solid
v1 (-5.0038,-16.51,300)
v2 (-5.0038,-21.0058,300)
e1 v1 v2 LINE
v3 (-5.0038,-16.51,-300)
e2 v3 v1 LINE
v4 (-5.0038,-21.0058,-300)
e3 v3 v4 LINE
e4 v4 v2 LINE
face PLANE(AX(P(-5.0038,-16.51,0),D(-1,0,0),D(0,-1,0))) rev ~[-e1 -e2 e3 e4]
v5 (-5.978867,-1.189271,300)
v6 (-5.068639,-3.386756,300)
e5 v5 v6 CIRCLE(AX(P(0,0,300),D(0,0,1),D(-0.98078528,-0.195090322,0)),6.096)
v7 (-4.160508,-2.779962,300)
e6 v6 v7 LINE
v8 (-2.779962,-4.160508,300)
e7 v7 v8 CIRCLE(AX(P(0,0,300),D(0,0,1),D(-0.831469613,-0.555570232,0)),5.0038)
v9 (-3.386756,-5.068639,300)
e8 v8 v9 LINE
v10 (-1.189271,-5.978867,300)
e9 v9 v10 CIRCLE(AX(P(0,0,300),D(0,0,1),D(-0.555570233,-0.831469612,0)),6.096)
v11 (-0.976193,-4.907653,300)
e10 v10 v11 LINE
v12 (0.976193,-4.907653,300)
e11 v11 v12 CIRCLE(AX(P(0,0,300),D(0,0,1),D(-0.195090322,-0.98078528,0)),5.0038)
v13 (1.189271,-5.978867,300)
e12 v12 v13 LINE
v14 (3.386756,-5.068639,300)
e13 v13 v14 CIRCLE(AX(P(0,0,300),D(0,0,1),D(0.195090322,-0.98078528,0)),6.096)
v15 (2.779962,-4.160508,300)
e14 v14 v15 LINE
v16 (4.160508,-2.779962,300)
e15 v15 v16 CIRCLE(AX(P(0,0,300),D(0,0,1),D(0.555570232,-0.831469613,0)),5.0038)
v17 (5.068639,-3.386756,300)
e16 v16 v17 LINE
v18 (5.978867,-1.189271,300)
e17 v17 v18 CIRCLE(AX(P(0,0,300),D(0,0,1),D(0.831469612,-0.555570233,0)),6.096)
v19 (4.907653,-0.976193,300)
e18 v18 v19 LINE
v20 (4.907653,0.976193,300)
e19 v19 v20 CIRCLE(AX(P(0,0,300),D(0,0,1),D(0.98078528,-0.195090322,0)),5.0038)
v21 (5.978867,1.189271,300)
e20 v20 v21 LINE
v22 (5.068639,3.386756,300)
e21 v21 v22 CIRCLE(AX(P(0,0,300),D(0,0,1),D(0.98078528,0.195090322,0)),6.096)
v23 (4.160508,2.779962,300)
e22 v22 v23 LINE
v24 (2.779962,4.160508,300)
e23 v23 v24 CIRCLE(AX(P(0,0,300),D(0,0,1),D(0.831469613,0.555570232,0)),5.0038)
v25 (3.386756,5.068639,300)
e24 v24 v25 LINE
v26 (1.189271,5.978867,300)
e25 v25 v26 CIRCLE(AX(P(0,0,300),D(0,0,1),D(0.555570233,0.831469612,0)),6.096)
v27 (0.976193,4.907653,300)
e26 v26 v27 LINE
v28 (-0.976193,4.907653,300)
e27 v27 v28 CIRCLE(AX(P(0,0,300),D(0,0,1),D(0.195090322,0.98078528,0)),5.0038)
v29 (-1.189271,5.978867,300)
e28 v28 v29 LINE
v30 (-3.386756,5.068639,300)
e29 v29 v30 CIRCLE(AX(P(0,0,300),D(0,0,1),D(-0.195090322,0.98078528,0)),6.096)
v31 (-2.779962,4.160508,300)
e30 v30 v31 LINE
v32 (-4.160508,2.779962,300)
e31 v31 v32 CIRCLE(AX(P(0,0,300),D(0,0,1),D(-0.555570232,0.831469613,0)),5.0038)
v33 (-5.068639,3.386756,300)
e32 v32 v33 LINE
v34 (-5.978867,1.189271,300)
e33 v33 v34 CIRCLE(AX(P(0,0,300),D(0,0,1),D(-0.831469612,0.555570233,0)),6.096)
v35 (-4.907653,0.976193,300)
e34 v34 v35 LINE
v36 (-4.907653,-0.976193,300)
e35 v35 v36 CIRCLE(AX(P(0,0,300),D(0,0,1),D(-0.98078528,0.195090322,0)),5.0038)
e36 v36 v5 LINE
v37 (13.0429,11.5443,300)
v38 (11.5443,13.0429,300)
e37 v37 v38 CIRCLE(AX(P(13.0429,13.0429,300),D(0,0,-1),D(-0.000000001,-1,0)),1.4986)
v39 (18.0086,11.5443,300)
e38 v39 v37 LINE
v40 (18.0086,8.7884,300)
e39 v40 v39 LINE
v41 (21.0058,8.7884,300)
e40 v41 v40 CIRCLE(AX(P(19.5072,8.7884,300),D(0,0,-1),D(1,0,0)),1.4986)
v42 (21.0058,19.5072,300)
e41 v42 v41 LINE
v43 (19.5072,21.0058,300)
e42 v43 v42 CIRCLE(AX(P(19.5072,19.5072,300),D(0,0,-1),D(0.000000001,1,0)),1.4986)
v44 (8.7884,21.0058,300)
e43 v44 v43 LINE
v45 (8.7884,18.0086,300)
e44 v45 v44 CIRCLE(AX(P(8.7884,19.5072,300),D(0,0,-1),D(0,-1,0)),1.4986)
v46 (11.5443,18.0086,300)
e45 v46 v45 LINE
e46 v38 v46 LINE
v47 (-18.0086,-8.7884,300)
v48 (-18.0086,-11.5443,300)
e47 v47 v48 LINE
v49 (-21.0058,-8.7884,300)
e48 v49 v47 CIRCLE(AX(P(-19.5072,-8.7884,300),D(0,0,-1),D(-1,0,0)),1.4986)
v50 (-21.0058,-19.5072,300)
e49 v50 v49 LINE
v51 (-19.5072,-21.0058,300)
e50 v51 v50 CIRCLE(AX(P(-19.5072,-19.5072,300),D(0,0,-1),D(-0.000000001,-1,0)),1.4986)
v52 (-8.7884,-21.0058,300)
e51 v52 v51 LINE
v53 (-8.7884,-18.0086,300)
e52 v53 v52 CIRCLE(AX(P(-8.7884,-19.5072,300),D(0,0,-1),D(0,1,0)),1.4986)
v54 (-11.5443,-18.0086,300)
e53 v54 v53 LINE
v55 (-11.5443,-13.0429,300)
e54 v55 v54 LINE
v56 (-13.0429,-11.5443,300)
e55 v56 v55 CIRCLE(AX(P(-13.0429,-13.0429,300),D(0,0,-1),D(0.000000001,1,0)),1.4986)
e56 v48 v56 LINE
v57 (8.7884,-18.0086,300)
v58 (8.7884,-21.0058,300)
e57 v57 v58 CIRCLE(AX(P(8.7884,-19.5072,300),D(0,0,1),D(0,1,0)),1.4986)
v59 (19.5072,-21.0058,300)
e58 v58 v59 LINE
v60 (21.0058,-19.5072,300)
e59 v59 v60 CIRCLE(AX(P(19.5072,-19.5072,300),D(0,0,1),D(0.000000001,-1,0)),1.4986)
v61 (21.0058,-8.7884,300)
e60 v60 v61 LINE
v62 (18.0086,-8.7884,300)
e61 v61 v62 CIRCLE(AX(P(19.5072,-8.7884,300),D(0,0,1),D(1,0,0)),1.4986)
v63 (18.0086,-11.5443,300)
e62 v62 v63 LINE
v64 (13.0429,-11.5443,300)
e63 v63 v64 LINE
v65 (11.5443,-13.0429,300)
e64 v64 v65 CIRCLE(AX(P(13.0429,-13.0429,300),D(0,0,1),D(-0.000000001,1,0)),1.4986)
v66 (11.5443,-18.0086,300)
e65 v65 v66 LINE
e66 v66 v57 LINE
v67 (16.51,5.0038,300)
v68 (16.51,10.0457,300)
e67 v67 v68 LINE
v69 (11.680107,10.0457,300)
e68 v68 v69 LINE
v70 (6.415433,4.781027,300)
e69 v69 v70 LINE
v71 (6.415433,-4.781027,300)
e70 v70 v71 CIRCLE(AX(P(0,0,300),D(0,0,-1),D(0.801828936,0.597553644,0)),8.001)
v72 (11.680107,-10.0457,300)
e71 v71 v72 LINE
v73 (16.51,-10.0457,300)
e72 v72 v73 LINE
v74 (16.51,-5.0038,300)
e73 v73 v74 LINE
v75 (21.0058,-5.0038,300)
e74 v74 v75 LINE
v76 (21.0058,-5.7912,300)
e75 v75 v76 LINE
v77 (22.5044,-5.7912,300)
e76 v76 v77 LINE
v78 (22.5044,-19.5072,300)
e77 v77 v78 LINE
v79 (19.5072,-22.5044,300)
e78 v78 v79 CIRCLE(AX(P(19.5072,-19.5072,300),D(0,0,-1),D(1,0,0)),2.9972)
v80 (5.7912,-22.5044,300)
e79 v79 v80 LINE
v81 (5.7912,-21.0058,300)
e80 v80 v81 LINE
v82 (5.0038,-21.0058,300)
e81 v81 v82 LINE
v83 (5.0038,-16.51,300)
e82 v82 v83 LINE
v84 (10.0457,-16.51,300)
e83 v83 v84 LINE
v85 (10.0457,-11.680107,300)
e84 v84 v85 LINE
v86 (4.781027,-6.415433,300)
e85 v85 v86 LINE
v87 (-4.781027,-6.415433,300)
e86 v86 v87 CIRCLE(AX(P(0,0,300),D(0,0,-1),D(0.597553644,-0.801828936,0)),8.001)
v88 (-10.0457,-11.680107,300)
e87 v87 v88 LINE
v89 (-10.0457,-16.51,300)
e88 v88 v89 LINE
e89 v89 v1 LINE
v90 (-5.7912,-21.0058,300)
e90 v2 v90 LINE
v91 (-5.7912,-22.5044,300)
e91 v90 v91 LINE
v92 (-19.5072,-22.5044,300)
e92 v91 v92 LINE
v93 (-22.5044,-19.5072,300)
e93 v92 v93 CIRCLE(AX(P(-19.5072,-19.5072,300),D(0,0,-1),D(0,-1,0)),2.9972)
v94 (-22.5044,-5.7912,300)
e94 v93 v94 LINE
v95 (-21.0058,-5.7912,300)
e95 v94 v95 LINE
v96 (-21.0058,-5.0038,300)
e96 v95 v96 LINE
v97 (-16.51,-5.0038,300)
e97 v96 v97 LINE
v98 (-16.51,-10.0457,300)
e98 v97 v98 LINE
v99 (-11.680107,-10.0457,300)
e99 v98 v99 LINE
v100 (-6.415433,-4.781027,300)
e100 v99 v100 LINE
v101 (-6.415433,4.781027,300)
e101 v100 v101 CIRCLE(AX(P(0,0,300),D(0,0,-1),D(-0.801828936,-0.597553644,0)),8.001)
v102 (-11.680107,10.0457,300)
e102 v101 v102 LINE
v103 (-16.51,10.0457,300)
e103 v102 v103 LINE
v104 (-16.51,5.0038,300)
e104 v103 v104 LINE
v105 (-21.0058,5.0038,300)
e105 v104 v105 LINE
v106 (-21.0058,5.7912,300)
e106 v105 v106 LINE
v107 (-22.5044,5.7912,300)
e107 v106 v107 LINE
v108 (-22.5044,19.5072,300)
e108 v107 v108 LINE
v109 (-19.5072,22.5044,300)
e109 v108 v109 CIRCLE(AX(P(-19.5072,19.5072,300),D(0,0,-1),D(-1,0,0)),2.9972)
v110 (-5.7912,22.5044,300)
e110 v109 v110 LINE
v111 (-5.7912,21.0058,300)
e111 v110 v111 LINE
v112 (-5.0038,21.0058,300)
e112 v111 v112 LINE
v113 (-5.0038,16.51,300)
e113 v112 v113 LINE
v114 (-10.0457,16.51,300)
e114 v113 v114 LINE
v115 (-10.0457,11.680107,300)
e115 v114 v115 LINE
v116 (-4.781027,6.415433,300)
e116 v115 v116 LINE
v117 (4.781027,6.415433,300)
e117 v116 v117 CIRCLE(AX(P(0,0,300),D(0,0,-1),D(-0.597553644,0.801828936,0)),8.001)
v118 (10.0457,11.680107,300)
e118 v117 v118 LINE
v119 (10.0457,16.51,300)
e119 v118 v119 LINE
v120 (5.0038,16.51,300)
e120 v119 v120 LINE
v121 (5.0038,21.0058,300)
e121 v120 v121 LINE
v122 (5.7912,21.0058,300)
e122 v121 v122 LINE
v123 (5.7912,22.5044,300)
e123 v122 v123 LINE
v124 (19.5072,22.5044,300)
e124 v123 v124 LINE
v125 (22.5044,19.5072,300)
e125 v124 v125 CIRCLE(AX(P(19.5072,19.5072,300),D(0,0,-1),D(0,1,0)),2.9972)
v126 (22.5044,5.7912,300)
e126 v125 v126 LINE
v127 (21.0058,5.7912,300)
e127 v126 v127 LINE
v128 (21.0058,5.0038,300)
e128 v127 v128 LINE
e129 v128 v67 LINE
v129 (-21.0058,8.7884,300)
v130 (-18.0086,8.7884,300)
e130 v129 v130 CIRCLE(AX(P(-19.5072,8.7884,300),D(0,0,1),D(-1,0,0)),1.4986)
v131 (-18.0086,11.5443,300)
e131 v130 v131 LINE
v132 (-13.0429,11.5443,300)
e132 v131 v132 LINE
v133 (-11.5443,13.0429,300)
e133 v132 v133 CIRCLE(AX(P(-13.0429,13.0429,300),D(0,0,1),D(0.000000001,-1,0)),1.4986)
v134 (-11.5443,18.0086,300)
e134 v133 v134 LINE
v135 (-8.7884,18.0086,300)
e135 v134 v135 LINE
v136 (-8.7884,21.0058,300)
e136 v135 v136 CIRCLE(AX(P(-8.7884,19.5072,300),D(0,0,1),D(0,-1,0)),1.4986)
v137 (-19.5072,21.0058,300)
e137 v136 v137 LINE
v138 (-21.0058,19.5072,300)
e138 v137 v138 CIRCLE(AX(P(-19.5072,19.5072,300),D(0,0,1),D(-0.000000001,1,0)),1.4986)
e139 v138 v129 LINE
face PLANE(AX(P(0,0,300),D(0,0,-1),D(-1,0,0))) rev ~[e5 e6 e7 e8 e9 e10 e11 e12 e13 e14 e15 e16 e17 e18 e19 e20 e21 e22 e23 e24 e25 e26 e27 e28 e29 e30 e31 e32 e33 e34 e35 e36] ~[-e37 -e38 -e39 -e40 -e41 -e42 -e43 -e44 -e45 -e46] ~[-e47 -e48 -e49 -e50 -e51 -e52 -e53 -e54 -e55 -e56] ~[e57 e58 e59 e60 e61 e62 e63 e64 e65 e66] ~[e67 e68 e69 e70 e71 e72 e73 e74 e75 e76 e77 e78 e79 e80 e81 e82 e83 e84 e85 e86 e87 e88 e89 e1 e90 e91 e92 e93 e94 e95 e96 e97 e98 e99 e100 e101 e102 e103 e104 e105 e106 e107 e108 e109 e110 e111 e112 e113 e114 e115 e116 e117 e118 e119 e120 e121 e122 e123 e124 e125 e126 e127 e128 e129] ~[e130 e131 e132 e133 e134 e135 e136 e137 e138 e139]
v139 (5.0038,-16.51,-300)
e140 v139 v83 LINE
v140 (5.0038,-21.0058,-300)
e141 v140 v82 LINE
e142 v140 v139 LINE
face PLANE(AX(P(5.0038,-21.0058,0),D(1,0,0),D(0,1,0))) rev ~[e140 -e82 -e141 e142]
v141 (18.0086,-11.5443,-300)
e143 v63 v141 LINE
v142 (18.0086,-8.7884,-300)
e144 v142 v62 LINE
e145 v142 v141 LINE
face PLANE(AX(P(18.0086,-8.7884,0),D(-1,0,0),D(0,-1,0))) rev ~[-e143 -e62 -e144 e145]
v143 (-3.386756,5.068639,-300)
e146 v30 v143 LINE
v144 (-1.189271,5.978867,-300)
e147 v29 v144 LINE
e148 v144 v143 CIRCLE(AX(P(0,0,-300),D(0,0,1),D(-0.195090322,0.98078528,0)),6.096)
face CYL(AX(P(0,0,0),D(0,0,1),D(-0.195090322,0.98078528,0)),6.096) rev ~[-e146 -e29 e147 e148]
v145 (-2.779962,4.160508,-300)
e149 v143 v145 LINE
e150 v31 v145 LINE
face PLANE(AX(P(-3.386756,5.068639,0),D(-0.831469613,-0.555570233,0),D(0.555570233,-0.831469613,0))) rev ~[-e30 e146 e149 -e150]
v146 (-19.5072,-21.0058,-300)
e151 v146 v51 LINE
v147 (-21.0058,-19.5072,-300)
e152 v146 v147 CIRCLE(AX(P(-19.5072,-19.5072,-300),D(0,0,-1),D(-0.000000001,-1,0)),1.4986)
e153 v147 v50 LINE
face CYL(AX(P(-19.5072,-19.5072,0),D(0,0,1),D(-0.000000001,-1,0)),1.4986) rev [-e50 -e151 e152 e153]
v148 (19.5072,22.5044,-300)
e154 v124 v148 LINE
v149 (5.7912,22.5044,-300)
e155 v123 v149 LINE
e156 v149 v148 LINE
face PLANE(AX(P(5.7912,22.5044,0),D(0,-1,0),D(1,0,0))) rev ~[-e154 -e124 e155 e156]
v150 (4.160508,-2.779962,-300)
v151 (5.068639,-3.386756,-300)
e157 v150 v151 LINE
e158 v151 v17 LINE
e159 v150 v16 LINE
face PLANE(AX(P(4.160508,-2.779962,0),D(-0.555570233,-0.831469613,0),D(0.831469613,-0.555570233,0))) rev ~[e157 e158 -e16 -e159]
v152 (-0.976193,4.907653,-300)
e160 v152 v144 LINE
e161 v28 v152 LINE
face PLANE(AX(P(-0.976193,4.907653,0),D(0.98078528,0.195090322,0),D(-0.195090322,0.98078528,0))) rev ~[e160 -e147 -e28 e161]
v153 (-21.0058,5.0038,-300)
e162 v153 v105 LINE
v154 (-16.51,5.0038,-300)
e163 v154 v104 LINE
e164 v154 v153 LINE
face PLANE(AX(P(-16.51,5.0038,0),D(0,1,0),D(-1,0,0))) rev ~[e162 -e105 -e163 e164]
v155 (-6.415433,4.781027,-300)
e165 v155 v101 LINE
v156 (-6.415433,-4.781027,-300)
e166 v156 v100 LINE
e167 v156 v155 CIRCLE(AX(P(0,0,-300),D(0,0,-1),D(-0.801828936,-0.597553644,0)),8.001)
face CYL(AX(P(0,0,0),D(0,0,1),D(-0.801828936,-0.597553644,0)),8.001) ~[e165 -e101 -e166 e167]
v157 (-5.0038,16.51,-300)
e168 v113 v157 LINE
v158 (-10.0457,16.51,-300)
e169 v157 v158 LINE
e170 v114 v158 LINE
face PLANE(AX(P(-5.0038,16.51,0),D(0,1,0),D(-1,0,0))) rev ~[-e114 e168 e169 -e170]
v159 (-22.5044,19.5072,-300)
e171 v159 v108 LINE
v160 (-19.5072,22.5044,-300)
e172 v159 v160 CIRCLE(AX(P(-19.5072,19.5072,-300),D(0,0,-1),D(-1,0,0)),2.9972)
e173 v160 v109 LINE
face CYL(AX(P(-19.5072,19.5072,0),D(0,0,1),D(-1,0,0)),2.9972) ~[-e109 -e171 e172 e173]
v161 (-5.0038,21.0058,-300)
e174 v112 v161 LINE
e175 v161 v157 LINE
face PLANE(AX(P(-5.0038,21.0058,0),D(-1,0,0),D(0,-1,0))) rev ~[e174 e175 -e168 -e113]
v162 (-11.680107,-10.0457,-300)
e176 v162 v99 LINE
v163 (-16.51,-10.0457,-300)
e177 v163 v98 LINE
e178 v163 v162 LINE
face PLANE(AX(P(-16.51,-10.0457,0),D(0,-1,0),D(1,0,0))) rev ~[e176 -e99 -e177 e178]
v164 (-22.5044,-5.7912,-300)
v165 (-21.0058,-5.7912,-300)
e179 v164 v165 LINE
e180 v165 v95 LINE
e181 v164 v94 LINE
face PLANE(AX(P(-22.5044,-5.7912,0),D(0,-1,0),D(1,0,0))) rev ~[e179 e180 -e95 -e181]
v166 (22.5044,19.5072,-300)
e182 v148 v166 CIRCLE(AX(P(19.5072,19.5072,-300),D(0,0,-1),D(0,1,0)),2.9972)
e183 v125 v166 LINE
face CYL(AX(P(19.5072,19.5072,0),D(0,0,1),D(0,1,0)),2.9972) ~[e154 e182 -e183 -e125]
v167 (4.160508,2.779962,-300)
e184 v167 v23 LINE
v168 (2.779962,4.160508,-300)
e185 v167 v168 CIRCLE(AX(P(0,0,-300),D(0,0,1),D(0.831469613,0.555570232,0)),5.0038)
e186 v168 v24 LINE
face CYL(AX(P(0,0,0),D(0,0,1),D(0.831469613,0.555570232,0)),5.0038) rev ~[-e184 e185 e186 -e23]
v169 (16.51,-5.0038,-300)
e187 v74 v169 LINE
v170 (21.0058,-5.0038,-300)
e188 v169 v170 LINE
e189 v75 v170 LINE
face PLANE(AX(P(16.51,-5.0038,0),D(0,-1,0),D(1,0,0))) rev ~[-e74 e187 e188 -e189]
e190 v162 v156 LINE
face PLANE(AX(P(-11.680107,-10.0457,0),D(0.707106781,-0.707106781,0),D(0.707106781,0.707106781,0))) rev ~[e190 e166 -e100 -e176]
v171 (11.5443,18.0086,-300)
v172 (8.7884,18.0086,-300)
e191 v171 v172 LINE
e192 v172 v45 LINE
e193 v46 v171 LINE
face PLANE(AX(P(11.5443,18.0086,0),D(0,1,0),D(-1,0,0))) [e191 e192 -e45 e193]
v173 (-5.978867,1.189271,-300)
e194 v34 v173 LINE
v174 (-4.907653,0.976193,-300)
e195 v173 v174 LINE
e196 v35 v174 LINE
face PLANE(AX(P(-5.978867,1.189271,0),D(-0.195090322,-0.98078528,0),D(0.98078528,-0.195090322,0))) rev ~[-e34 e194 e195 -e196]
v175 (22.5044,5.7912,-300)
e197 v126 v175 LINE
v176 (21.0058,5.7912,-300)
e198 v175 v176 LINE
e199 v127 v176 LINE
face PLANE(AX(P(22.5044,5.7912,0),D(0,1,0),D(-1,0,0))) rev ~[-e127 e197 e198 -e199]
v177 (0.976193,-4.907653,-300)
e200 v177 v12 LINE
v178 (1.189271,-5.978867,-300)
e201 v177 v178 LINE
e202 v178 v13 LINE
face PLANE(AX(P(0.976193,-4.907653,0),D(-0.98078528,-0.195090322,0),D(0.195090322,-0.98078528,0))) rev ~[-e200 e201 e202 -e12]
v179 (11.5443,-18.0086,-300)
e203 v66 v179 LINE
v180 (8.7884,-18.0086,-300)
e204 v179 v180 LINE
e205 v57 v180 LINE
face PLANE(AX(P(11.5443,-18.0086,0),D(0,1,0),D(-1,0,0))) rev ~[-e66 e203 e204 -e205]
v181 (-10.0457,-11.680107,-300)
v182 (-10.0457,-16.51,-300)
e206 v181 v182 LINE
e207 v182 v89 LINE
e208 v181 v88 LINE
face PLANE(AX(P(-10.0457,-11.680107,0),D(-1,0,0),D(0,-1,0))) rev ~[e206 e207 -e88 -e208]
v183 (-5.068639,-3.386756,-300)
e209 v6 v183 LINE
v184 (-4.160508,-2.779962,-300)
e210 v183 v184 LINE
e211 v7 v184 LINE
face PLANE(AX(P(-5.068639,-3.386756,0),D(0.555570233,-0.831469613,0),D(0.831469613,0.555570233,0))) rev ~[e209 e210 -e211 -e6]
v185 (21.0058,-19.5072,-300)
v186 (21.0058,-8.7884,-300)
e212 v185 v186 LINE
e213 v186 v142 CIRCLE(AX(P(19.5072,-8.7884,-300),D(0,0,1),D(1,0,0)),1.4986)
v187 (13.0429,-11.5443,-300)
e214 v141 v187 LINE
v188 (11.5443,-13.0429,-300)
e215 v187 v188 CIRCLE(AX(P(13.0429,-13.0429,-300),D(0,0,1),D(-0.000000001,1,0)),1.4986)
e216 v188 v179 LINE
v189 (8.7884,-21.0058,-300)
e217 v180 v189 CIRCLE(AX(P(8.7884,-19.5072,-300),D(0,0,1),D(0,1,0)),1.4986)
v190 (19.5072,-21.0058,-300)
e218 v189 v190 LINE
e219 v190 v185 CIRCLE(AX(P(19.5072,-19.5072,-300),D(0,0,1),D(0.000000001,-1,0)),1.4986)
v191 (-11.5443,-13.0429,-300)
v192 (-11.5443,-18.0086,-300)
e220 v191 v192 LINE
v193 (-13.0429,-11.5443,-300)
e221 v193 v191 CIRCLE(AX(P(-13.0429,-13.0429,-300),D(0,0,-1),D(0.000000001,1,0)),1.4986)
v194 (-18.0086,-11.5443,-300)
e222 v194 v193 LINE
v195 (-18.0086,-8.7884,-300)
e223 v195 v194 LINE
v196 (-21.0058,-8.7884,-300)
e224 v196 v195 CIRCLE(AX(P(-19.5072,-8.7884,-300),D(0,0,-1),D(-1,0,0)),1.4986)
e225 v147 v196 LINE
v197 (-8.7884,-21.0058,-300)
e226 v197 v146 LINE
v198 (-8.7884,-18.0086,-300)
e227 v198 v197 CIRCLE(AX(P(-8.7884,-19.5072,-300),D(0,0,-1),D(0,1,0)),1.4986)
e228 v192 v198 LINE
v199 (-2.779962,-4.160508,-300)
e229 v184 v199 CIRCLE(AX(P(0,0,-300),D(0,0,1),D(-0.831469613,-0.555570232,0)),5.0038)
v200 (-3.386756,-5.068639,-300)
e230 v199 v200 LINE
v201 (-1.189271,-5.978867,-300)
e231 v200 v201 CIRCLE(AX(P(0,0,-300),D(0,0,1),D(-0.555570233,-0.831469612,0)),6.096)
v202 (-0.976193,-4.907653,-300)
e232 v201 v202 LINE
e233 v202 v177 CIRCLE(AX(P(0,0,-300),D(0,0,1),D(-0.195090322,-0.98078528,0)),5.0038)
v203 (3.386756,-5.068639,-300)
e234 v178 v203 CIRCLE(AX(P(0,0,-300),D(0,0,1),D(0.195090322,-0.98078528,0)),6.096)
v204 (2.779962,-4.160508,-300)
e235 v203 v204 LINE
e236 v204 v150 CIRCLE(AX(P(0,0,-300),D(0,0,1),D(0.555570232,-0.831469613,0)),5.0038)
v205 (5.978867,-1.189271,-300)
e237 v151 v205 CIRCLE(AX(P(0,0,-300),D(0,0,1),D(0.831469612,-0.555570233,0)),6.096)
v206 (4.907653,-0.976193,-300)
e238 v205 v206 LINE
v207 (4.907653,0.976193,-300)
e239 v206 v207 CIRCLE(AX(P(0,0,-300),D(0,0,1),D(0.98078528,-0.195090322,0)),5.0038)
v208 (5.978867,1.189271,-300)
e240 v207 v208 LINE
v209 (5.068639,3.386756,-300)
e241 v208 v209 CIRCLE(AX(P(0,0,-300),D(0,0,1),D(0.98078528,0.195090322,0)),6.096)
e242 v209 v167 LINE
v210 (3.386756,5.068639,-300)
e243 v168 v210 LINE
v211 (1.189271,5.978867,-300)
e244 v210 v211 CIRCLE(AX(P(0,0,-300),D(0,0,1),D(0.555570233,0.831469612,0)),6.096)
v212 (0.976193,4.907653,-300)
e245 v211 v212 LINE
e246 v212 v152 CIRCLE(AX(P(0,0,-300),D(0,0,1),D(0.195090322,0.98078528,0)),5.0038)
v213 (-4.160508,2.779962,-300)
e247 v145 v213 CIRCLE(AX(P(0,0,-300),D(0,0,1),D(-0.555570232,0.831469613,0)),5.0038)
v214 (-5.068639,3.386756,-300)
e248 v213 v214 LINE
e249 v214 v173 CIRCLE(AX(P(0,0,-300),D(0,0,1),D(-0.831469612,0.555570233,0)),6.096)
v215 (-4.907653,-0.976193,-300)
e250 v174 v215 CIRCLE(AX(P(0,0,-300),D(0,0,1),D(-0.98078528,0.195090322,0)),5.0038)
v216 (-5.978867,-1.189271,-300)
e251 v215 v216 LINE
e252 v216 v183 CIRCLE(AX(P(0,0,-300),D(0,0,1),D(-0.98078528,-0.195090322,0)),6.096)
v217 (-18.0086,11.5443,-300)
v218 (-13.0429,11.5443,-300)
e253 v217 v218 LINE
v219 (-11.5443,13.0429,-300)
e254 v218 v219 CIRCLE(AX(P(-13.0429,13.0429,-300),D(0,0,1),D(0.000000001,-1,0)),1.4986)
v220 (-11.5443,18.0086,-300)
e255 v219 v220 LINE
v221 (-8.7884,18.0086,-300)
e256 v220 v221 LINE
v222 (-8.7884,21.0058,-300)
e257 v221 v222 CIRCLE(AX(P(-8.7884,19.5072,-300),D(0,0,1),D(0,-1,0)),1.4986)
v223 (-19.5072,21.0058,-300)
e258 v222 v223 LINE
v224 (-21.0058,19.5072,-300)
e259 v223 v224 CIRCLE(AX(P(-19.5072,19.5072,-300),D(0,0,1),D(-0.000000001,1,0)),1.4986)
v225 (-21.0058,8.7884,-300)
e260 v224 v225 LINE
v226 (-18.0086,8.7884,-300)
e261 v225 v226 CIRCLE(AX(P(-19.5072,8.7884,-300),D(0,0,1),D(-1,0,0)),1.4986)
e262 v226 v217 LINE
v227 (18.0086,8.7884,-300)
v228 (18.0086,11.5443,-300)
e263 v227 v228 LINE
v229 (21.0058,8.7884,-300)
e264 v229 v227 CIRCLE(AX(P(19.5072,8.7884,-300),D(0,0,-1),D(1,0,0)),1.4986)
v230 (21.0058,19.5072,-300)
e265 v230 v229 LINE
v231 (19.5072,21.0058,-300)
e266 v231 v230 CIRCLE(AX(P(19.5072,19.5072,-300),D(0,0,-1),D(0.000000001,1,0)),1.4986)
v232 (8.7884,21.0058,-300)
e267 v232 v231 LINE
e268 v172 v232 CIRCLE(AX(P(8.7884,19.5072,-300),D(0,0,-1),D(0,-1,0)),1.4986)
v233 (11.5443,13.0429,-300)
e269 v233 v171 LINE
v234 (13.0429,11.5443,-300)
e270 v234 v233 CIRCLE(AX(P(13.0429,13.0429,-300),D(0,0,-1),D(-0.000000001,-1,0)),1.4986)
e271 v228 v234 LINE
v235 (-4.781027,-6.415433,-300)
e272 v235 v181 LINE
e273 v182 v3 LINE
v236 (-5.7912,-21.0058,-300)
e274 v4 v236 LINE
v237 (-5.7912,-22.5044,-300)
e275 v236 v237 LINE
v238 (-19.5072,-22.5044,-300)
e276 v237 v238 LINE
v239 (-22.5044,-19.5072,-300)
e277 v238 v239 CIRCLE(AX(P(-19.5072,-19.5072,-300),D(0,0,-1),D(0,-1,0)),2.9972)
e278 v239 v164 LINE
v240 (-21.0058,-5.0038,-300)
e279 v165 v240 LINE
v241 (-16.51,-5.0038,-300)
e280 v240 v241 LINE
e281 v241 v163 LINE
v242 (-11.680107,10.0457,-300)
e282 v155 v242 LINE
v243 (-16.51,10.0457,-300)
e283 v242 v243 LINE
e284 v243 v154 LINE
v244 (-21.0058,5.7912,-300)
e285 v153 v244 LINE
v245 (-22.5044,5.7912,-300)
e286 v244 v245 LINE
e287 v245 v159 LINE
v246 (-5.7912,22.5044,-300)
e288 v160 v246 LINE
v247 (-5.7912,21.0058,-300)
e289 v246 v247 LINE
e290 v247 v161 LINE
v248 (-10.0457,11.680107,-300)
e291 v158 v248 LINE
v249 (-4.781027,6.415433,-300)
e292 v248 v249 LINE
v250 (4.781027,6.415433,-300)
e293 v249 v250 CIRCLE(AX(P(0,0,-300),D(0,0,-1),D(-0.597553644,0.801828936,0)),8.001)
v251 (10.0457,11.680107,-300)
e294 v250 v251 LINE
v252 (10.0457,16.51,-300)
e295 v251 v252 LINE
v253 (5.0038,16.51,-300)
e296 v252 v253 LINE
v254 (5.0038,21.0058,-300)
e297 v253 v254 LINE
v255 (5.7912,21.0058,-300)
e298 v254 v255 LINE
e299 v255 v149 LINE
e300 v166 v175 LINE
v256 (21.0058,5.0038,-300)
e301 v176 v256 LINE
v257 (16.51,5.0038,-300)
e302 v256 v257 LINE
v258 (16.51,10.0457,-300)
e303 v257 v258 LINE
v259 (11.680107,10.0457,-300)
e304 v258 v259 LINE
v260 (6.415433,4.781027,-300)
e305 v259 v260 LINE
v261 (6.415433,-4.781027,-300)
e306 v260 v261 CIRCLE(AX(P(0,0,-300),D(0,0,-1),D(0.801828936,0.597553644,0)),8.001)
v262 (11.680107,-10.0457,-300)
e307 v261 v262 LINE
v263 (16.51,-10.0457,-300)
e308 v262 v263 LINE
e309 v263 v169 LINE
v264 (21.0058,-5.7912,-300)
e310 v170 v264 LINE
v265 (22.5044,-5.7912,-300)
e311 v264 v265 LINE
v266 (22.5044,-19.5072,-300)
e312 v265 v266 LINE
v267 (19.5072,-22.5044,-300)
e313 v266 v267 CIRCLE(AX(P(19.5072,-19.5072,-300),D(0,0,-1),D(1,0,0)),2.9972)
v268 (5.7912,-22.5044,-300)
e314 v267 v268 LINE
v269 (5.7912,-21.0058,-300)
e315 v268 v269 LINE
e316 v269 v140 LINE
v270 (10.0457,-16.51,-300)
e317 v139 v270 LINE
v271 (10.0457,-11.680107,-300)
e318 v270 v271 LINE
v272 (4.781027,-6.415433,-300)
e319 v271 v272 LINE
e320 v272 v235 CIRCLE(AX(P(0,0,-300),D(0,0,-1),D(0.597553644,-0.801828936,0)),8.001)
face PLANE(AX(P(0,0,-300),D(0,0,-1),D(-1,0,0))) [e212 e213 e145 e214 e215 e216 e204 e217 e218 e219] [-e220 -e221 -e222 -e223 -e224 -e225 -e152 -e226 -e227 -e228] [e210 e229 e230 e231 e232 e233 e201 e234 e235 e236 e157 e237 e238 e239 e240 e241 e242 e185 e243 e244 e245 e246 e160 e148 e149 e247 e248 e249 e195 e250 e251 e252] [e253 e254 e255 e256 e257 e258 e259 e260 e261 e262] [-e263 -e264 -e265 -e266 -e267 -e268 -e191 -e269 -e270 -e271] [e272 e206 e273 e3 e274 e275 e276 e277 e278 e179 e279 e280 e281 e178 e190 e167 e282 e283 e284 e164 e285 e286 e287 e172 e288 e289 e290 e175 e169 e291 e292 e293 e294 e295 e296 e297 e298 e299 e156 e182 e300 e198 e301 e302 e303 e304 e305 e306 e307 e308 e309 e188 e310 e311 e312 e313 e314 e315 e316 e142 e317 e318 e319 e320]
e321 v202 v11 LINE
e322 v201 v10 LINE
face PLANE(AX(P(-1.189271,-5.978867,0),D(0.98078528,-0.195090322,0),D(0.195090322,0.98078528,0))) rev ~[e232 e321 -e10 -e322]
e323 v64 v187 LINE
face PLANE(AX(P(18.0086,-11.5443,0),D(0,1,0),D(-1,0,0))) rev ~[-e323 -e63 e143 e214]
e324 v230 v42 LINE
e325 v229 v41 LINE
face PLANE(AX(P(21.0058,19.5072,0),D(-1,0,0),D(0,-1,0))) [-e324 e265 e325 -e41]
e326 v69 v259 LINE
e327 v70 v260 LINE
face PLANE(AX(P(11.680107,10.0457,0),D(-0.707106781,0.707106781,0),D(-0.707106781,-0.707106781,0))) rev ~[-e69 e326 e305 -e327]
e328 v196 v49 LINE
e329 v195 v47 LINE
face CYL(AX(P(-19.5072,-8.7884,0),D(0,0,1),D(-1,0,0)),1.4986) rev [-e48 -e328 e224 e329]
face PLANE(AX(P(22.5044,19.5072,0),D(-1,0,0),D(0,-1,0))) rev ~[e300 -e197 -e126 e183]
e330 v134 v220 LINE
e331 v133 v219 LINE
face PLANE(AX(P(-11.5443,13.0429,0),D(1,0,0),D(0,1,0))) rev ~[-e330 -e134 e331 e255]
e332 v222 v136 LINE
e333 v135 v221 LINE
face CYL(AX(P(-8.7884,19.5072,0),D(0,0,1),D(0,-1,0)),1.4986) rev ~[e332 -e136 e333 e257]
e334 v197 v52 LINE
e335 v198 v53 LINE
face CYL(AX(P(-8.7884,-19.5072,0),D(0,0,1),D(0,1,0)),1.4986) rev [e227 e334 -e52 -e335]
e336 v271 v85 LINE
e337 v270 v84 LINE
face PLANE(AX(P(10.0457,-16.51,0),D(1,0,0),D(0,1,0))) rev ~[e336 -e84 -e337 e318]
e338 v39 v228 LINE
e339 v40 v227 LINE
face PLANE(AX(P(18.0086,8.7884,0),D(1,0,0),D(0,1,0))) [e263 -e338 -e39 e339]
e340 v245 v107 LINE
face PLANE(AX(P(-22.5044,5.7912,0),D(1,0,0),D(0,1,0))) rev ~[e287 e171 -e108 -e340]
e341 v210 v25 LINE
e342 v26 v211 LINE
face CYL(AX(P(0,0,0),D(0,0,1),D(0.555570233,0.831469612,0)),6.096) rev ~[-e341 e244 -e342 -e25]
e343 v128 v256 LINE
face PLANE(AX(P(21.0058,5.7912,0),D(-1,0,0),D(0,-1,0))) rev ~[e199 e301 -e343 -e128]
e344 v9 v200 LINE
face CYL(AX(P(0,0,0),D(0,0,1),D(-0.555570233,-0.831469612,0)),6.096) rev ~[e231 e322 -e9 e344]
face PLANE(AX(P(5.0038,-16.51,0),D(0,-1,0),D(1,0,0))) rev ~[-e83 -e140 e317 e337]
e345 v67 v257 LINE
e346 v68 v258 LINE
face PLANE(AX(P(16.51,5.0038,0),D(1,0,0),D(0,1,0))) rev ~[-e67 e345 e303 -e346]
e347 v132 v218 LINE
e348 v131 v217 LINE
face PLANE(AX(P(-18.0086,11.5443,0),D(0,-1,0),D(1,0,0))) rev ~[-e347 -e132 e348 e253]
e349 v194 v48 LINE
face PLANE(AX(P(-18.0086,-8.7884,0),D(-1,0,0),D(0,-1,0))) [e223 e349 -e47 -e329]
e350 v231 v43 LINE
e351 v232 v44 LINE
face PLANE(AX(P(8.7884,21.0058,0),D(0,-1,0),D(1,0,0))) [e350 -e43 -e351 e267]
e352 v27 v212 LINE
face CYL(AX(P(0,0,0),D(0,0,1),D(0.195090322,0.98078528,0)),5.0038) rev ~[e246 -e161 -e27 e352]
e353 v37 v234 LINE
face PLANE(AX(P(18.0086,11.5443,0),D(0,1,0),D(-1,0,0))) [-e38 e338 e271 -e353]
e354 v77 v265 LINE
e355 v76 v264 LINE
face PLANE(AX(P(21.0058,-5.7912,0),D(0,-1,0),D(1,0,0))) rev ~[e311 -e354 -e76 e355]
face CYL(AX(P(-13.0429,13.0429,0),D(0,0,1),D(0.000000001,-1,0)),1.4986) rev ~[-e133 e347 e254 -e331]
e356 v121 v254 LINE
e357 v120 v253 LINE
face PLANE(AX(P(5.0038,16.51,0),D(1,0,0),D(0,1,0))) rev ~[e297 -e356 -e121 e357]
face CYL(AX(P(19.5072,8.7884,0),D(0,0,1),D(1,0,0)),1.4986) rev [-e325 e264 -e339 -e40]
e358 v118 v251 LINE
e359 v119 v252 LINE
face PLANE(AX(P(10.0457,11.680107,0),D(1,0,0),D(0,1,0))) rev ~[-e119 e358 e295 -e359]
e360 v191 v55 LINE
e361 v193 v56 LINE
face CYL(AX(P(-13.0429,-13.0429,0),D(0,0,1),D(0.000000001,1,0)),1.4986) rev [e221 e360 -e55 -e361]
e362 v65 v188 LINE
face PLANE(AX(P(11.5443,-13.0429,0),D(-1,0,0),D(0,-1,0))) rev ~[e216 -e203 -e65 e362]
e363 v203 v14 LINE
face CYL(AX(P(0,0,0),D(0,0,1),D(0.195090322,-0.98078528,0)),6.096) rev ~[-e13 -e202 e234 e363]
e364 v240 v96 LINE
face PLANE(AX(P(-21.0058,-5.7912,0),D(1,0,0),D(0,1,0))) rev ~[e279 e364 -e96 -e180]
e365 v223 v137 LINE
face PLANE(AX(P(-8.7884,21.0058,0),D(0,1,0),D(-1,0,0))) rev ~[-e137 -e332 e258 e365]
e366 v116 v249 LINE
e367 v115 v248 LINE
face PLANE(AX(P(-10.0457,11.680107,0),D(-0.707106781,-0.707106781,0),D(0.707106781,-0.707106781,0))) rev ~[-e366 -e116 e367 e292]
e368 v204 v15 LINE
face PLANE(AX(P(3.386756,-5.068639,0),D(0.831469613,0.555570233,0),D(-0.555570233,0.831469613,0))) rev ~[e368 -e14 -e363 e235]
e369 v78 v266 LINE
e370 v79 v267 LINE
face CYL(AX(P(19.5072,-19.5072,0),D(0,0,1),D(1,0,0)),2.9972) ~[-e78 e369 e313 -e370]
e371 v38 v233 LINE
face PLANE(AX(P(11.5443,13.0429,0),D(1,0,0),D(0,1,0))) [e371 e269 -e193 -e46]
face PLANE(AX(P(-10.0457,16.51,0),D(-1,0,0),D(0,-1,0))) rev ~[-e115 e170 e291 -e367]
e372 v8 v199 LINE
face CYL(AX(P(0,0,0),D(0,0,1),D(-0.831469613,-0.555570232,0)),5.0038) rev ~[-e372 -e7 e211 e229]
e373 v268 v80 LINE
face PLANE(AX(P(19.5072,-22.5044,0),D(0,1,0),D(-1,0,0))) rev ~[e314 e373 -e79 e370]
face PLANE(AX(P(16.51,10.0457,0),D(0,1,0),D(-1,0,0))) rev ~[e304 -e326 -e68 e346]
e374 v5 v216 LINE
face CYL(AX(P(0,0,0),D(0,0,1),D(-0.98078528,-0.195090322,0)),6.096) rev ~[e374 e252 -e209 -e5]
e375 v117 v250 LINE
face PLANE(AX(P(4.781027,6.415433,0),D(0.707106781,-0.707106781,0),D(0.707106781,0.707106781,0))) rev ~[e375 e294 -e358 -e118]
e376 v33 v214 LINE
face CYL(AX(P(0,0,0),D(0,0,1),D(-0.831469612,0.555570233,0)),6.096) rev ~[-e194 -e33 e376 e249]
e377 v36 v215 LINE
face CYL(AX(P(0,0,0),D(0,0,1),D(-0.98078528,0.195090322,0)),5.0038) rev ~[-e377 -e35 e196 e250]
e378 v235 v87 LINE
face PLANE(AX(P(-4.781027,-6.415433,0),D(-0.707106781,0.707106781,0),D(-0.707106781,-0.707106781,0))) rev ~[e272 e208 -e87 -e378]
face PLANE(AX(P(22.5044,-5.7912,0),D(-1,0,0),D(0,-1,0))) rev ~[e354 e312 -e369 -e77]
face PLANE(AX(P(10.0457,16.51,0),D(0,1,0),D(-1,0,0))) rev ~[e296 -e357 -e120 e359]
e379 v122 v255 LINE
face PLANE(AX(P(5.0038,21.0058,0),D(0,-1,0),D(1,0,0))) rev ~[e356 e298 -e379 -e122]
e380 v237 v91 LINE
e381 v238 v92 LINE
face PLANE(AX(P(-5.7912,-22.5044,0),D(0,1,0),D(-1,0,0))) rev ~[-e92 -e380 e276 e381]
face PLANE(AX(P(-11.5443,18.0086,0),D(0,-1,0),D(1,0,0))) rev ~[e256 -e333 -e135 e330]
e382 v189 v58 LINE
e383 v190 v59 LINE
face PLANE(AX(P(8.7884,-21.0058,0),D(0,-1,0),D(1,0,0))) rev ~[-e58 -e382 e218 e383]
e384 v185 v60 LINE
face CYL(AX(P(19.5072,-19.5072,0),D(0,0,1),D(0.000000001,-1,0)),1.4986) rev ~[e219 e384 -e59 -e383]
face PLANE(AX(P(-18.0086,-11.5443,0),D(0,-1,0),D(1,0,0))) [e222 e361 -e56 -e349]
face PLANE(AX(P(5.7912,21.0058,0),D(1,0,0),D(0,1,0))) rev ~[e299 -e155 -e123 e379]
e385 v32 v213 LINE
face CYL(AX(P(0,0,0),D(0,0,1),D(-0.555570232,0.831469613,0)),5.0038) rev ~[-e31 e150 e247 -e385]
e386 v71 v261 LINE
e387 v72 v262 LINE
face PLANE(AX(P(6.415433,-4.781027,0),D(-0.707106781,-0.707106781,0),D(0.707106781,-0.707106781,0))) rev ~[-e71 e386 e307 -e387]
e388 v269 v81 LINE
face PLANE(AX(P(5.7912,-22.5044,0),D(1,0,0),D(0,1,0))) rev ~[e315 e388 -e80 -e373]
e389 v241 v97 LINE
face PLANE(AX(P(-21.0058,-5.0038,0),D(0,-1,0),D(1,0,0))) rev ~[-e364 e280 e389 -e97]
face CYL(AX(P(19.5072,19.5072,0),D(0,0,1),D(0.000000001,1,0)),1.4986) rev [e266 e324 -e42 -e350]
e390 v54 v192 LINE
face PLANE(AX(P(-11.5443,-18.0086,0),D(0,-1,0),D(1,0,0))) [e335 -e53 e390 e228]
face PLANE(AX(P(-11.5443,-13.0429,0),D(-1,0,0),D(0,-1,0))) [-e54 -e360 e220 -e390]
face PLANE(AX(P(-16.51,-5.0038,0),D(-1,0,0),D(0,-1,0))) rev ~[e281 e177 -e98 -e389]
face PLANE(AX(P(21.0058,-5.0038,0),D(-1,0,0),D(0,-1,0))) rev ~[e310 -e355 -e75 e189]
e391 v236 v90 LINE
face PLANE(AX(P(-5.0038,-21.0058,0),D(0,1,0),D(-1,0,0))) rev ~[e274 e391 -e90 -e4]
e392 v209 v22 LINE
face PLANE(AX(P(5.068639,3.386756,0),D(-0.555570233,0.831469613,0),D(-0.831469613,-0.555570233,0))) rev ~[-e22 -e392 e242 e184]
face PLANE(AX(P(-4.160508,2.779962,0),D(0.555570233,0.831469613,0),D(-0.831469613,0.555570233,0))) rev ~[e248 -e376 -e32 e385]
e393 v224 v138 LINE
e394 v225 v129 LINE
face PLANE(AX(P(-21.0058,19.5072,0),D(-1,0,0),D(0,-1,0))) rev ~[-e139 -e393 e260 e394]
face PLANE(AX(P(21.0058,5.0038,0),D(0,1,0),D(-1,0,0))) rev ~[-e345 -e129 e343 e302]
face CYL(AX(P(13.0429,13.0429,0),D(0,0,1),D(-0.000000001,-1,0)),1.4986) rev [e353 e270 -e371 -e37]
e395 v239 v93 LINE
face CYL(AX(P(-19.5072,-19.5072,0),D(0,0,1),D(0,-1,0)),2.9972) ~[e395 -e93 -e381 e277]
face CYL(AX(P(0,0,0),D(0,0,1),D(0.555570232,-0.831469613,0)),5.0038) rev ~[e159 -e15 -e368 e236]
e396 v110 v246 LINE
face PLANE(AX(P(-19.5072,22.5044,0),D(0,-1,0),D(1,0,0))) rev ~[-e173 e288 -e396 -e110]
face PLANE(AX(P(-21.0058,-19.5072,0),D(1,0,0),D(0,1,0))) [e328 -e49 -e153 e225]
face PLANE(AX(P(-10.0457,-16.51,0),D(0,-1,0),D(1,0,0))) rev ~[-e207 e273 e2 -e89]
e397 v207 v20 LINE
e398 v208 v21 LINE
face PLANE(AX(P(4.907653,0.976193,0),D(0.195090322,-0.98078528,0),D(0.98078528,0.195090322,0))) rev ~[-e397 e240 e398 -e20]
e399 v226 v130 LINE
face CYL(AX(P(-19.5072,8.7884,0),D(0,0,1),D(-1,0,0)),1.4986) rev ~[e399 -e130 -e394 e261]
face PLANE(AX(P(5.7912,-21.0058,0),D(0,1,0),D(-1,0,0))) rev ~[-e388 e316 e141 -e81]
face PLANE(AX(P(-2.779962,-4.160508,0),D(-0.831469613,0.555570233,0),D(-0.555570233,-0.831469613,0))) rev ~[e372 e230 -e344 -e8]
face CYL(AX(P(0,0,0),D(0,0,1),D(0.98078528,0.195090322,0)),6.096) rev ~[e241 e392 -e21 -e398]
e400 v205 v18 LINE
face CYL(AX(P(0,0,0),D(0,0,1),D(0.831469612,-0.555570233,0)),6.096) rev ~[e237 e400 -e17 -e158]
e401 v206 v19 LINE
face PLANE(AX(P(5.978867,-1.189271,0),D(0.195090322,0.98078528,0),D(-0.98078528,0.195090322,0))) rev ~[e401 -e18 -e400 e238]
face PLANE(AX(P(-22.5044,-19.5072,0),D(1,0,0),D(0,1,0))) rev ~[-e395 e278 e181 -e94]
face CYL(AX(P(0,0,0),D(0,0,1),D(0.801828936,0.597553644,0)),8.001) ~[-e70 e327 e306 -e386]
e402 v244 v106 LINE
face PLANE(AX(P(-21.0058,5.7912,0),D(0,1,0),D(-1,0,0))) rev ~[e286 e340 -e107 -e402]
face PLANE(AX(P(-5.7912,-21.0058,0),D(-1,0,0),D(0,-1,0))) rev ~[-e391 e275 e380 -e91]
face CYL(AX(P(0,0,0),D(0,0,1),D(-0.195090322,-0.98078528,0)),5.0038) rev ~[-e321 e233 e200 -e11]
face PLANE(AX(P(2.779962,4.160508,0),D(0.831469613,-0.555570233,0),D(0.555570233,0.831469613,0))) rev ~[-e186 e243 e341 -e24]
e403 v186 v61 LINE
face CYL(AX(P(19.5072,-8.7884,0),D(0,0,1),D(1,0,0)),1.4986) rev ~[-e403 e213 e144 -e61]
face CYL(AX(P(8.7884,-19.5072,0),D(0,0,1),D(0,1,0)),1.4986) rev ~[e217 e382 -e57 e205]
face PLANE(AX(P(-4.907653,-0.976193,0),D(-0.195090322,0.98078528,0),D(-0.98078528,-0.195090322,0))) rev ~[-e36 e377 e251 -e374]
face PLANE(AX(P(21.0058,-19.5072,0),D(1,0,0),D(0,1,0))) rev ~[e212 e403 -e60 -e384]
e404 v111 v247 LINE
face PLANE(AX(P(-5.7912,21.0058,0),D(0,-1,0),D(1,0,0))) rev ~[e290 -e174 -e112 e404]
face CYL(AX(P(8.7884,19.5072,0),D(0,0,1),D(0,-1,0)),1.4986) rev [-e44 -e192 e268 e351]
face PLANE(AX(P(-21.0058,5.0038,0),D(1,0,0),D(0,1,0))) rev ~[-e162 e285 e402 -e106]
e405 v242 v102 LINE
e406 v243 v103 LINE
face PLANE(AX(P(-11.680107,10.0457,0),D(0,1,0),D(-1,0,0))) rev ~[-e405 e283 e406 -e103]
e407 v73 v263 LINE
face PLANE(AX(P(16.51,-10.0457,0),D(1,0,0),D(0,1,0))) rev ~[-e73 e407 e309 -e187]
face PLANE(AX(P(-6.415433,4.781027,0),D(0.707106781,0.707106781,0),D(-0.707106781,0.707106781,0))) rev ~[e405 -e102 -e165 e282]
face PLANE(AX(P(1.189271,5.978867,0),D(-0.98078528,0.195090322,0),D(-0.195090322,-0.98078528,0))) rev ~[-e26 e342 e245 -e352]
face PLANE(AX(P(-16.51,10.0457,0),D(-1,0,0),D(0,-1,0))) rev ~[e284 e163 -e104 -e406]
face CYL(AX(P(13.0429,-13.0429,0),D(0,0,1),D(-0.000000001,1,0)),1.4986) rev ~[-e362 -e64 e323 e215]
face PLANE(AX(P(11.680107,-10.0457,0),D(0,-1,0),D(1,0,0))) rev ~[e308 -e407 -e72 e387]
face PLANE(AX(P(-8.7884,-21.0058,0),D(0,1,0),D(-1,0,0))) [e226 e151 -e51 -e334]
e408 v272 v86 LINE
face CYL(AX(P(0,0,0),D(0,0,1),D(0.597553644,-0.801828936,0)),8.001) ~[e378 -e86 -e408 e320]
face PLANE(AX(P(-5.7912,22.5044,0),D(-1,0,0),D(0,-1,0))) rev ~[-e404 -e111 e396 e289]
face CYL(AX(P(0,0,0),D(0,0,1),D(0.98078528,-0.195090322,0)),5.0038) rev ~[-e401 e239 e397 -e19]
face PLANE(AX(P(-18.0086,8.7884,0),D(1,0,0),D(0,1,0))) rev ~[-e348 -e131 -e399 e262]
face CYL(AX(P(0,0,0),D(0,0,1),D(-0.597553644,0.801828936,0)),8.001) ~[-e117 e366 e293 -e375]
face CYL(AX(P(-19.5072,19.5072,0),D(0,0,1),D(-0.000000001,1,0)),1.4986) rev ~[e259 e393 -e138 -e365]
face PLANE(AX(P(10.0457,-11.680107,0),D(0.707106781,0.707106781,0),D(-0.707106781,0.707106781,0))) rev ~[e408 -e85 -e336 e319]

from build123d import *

# Parameters (mm, degrees)
BOSS_EXTRUDE1_DEPTH = 300


with BuildPart() as part:
    # Sketch1 → Boss-Extrude1 (new, symmetric)
    with BuildSketch(Plane.XY):
        with BuildLine():
            Line((-19.5072, 22.5044), (-5.7912, 22.5044))
            Line((-5.7912, 22.5044), (-5.7912, 21.0058))
            Line((-5.7912, 21.0058), (-5.0038, 21.0058))
            Line((-5.0038, 21.0058), (-5.0038, 16.51))
            Line((-5.0038, 16.51), (-10.0457, 16.51))
            Line((-10.0457, 16.51), (-10.0457, 11.680106614))
            Line((-10.0457, 11.680106614), (-4.781026704, 6.415433318))
            ThreePointArc((-4.781026704, 6.415433318), (0, 8.001), (4.781026704, 6.415433318))
            Line((4.781026704, 6.415433318), (10.0457, 11.680106614))
            Line((10.0457, 11.680106614), (10.0457, 16.51))
            Line((10.0457, 16.51), (5.0038, 16.51))
            Line((5.0038, 16.51), (5.0038, 21.0058))
            Line((5.0038, 21.0058), (5.7912, 21.0058))
            Line((5.7912, 21.0058), (5.7912, 22.5044))
            Line((5.7912, 22.5044), (19.5072, 22.5044))
            ThreePointArc((19.5072, 22.5044), (21.626540445, 21.626540445), (22.5044, 19.5072))
            Line((22.5044, 19.5072), (22.5044, 5.7912))
            Line((22.5044, 5.7912), (21.0058, 5.7912))
            Line((21.0058, 5.7912), (21.0058, 5.0038))
            Line((21.0058, 5.0038), (16.51, 5.0038))
            Line((16.51, 5.0038), (16.51, 10.0457))
            Line((16.51, 10.0457), (11.680106614, 10.0457))
            Line((11.680106614, 10.0457), (6.415433318, 4.781026704))
            ThreePointArc((6.415433318, 4.781026704), (8.001, 0), (6.415433318, -4.781026704))
            Line((6.415433318, -4.781026704), (11.680106614, -10.0457))
            Line((11.680106614, -10.0457), (16.51, -10.0457))
            Line((16.51, -10.0457), (16.51, -5.0038))
            Line((16.51, -5.0038), (21.0058, -5.0038))
            Line((21.0058, -5.0038), (21.0058, -5.7912))
            Line((21.0058, -5.7912), (22.5044, -5.7912))
            Line((22.5044, -5.7912), (22.5044, -19.5072))
            ThreePointArc((22.5044, -19.5072), (21.626540445, -21.626540445), (19.5072, -22.5044))
            Line((19.5072, -22.5044), (5.7912, -22.5044))
            Line((5.7912, -22.5044), (5.7912, -21.0058))
            Line((5.7912, -21.0058), (5.0038, -21.0058))
            Line((5.0038, -21.0058), (5.0038, -16.51))
            Line((5.0038, -16.51), (10.0457, -16.51))
            Line((10.0457, -16.51), (10.0457, -11.680106614))
            Line((10.0457, -11.680106614), (4.781026704, -6.415433318))
            ThreePointArc((4.781026704, -6.415433318), (0, -8.001), (-4.781026704, -6.415433318))
            Line((-4.781026704, -6.415433318), (-10.0457, -11.680106614))
            Line((-10.0457, -11.680106614), (-10.0457, -16.51))
            Line((-10.0457, -16.51), (-5.0038, -16.51))
            Line((-5.0038, -16.51), (-5.0038, -21.0058))
            Line((-5.0038, -21.0058), (-5.7912, -21.0058))
            Line((-5.7912, -21.0058), (-5.7912, -22.5044))
            Line((-5.7912, -22.5044), (-19.5072, -22.5044))
            ThreePointArc((-19.5072, -22.5044), (-21.626540445, -21.626540445), (-22.5044, -19.5072))
            Line((-22.5044, -19.5072), (-22.5044, -5.7912))
            Line((-22.5044, -5.7912), (-21.0058, -5.7912))
            Line((-21.0058, -5.7912), (-21.0058, -5.0038))
            Line((-21.0058, -5.0038), (-16.51, -5.0038))
            Line((-16.51, -5.0038), (-16.51, -10.0457))
            Line((-16.51, -10.0457), (-11.680106614, -10.0457))
            Line((-11.680106614, -10.0457), (-6.415433318, -4.781026704))
            ThreePointArc((-6.415433318, -4.781026704), (-8.001, 0), (-6.415433318, 4.781026704))
            Line((-6.415433318, 4.781026704), (-11.680106614, 10.0457))
            Line((-11.680106614, 10.0457), (-16.51, 10.0457))
            Line((-16.51, 10.0457), (-16.51, 5.0038))
            Line((-16.51, 5.0038), (-21.0058, 5.0038))
            Line((-21.0058, 5.0038), (-21.0058, 5.7912))
            Line((-21.0058, 5.7912), (-22.5044, 5.7912))
            Line((-22.5044, 5.7912), (-22.5044, 19.5072))
            ThreePointArc((-22.5044, 19.5072), (-21.626540445, 21.626540445), (-19.5072, 22.5044))
        make_face()
        with BuildLine():
            Line((-18.0086, 11.5443), (-13.0429, 11.5443))
            ThreePointArc((-13.0429, 11.5443), (-11.983229778, 11.983229778), (-11.5443, 13.0429))
            Line((-11.5443, 13.0429), (-11.5443, 18.0086))
            Line((-11.5443, 18.0086), (-8.7884, 18.0086))
            ThreePointArc((-8.7884, 18.0086), (-7.2898, 19.5072), (-8.7884, 21.0058))
            Line((-8.7884, 21.0058), (-19.5072, 21.0058))
            ThreePointArc((-19.5072, 21.0058), (-20.566870222, 20.566870222), (-21.0058, 19.5072))
            Line((-21.0058, 19.5072), (-21.0058, 8.7884))
            ThreePointArc((-21.0058, 8.7884), (-19.5072, 7.2898), (-18.0086, 8.7884))
            Line((-18.0086, 8.7884), (-18.0086, 11.5443))
        make_face(mode=Mode.SUBTRACT)
        with BuildLine():
            Line((1.189270603, 5.978867069), (0.976192953, 4.907653386))
            ThreePointArc((0.976192953, 4.907653386), (0, 5.0038), (-0.976192953, 4.907653386))
            Line((-0.976192953, 4.907653386), (-1.189270603, 5.978867069))
            ThreePointArc((-1.189270603, 5.978867069), (-2.332838204, 5.63196963), (-3.38675614, 5.068638757))
            Line((-3.38675614, 5.068638757), (-2.779962332, 4.160507646))
            ThreePointArc((-2.779962332, 4.160507646), (-3.538220912, 3.538220912), (-4.160507646, 2.779962332))
            Line((-4.160507646, 2.779962332), (-5.068638757, 3.38675614))
            ThreePointArc((-5.068638757, 3.38675614), (-5.63196963, 2.332838204), (-5.978867069, 1.189270603))
            Line((-5.978867069, 1.189270603), (-4.907653386, 0.976192953))
            ThreePointArc((-4.907653386, 0.976192953), (-5.0038, 0), (-4.907653386, -0.976192953))
            Line((-4.907653386, -0.976192953), (-5.978867069, -1.189270603))
            ThreePointArc((-5.978867069, -1.189270603), (-5.63196963, -2.332838204), (-5.068638757, -3.38675614))
            Line((-5.068638757, -3.38675614), (-4.160507646, -2.779962332))
            ThreePointArc((-4.160507646, -2.779962332), (-3.538220912, -3.538220912), (-2.779962332, -4.160507646))
            Line((-2.779962332, -4.160507646), (-3.38675614, -5.068638757))
            ThreePointArc((-3.38675614, -5.068638757), (-2.332838204, -5.63196963), (-1.189270603, -5.978867069))
            Line((-1.189270603, -5.978867069), (-0.976192953, -4.907653386))
            ThreePointArc((-0.976192953, -4.907653386), (0, -5.0038), (0.976192953, -4.907653386))
            Line((0.976192953, -4.907653386), (1.189270603, -5.978867069))
            ThreePointArc((1.189270603, -5.978867069), (2.332838204, -5.63196963), (3.38675614, -5.068638757))
            Line((3.38675614, -5.068638757), (2.779962332, -4.160507646))
            ThreePointArc((2.779962332, -4.160507646), (3.538220912, -3.538220912), (4.160507646, -2.779962332))
            Line((4.160507646, -2.779962332), (5.068638757, -3.38675614))
            ThreePointArc((5.068638757, -3.38675614), (5.63196963, -2.332838204), (5.978867069, -1.189270603))
            Line((5.978867069, -1.189270603), (4.907653386, -0.976192953))
            ThreePointArc((4.907653386, -0.976192953), (5.0038, 0), (4.907653386, 0.976192953))
            Line((4.907653386, 0.976192953), (5.978867069, 1.189270603))
            ThreePointArc((5.978867069, 1.189270603), (5.63196963, 2.332838204), (5.068638757, 3.38675614))
            Line((5.068638757, 3.38675614), (4.160507646, 2.779962332))
            ThreePointArc((4.160507646, 2.779962332), (3.538220912, 3.538220912), (2.779962332, 4.160507646))
            Line((2.779962332, 4.160507646), (3.38675614, 5.068638757))
            ThreePointArc((3.38675614, 5.068638757), (2.332838204, 5.63196963), (1.189270603, 5.978867069))
        make_face(mode=Mode.SUBTRACT)
        with BuildLine():
            Line((11.5443, 18.0086), (8.7884, 18.0086))
            ThreePointArc((8.7884, 18.0086), (7.2898, 19.5072), (8.7884, 21.0058))
            Line((8.7884, 21.0058), (19.5072, 21.0058))
            ThreePointArc((19.5072, 21.0058), (20.566870222, 20.566870222), (21.0058, 19.5072))
            Line((21.0058, 19.5072), (21.0058, 8.7884))
            ThreePointArc((21.0058, 8.7884), (19.5072, 7.2898), (18.0086, 8.7884))
            Line((18.0086, 8.7884), (18.0086, 11.5443))
            Line((18.0086, 11.5443), (13.0429, 11.5443))
            ThreePointArc((13.0429, 11.5443), (11.983229778, 11.983229778), (11.5443, 13.0429))
            Line((11.5443, 13.0429), (11.5443, 18.0086))
        make_face(mode=Mode.SUBTRACT)
        with BuildLine():
            Line((18.0086, -11.5443), (13.0429, -11.5443))
            ThreePointArc((13.0429, -11.5443), (11.983229778, -11.983229778), (11.5443, -13.0429))
            Line((11.5443, -13.0429), (11.5443, -18.0086))
            Line((11.5443, -18.0086), (8.7884, -18.0086))
            ThreePointArc((8.7884, -18.0086), (7.2898, -19.5072), (8.7884, -21.0058))
            Line((8.7884, -21.0058), (19.5072, -21.0058))
            ThreePointArc((19.5072, -21.0058), (20.566870222, -20.566870222), (21.0058, -19.5072))
            Line((21.0058, -19.5072), (21.0058, -8.7884))
            ThreePointArc((21.0058, -8.7884), (19.5072, -7.2898), (18.0086, -8.7884))
            Line((18.0086, -8.7884), (18.0086, -11.5443))
        make_face(mode=Mode.SUBTRACT)
        with BuildLine():
            Line((-11.5443, -18.0086), (-8.7884, -18.0086))
            ThreePointArc((-8.7884, -18.0086), (-7.2898, -19.5072), (-8.7884, -21.0058))
            Line((-8.7884, -21.0058), (-19.5072, -21.0058))
            ThreePointArc((-19.5072, -21.0058), (-20.566870222, -20.566870222), (-21.0058, -19.5072))
            Line((-21.0058, -19.5072), (-21.0058, -8.7884))
            ThreePointArc((-21.0058, -8.7884), (-19.5072, -7.2898), (-18.0086, -8.7884))
            Line((-18.0086, -8.7884), (-18.0086, -11.5443))
            Line((-18.0086, -11.5443), (-13.0429, -11.5443))
            ThreePointArc((-13.0429, -11.5443), (-11.983229778, -11.983229778), (-11.5443, -13.0429))
            Line((-11.5443, -13.0429), (-11.5443, -18.0086))
        make_face(mode=Mode.SUBTRACT)
    extrude(amount=BOSS_EXTRUDE1_DEPTH, both=True)


solid = part.part
